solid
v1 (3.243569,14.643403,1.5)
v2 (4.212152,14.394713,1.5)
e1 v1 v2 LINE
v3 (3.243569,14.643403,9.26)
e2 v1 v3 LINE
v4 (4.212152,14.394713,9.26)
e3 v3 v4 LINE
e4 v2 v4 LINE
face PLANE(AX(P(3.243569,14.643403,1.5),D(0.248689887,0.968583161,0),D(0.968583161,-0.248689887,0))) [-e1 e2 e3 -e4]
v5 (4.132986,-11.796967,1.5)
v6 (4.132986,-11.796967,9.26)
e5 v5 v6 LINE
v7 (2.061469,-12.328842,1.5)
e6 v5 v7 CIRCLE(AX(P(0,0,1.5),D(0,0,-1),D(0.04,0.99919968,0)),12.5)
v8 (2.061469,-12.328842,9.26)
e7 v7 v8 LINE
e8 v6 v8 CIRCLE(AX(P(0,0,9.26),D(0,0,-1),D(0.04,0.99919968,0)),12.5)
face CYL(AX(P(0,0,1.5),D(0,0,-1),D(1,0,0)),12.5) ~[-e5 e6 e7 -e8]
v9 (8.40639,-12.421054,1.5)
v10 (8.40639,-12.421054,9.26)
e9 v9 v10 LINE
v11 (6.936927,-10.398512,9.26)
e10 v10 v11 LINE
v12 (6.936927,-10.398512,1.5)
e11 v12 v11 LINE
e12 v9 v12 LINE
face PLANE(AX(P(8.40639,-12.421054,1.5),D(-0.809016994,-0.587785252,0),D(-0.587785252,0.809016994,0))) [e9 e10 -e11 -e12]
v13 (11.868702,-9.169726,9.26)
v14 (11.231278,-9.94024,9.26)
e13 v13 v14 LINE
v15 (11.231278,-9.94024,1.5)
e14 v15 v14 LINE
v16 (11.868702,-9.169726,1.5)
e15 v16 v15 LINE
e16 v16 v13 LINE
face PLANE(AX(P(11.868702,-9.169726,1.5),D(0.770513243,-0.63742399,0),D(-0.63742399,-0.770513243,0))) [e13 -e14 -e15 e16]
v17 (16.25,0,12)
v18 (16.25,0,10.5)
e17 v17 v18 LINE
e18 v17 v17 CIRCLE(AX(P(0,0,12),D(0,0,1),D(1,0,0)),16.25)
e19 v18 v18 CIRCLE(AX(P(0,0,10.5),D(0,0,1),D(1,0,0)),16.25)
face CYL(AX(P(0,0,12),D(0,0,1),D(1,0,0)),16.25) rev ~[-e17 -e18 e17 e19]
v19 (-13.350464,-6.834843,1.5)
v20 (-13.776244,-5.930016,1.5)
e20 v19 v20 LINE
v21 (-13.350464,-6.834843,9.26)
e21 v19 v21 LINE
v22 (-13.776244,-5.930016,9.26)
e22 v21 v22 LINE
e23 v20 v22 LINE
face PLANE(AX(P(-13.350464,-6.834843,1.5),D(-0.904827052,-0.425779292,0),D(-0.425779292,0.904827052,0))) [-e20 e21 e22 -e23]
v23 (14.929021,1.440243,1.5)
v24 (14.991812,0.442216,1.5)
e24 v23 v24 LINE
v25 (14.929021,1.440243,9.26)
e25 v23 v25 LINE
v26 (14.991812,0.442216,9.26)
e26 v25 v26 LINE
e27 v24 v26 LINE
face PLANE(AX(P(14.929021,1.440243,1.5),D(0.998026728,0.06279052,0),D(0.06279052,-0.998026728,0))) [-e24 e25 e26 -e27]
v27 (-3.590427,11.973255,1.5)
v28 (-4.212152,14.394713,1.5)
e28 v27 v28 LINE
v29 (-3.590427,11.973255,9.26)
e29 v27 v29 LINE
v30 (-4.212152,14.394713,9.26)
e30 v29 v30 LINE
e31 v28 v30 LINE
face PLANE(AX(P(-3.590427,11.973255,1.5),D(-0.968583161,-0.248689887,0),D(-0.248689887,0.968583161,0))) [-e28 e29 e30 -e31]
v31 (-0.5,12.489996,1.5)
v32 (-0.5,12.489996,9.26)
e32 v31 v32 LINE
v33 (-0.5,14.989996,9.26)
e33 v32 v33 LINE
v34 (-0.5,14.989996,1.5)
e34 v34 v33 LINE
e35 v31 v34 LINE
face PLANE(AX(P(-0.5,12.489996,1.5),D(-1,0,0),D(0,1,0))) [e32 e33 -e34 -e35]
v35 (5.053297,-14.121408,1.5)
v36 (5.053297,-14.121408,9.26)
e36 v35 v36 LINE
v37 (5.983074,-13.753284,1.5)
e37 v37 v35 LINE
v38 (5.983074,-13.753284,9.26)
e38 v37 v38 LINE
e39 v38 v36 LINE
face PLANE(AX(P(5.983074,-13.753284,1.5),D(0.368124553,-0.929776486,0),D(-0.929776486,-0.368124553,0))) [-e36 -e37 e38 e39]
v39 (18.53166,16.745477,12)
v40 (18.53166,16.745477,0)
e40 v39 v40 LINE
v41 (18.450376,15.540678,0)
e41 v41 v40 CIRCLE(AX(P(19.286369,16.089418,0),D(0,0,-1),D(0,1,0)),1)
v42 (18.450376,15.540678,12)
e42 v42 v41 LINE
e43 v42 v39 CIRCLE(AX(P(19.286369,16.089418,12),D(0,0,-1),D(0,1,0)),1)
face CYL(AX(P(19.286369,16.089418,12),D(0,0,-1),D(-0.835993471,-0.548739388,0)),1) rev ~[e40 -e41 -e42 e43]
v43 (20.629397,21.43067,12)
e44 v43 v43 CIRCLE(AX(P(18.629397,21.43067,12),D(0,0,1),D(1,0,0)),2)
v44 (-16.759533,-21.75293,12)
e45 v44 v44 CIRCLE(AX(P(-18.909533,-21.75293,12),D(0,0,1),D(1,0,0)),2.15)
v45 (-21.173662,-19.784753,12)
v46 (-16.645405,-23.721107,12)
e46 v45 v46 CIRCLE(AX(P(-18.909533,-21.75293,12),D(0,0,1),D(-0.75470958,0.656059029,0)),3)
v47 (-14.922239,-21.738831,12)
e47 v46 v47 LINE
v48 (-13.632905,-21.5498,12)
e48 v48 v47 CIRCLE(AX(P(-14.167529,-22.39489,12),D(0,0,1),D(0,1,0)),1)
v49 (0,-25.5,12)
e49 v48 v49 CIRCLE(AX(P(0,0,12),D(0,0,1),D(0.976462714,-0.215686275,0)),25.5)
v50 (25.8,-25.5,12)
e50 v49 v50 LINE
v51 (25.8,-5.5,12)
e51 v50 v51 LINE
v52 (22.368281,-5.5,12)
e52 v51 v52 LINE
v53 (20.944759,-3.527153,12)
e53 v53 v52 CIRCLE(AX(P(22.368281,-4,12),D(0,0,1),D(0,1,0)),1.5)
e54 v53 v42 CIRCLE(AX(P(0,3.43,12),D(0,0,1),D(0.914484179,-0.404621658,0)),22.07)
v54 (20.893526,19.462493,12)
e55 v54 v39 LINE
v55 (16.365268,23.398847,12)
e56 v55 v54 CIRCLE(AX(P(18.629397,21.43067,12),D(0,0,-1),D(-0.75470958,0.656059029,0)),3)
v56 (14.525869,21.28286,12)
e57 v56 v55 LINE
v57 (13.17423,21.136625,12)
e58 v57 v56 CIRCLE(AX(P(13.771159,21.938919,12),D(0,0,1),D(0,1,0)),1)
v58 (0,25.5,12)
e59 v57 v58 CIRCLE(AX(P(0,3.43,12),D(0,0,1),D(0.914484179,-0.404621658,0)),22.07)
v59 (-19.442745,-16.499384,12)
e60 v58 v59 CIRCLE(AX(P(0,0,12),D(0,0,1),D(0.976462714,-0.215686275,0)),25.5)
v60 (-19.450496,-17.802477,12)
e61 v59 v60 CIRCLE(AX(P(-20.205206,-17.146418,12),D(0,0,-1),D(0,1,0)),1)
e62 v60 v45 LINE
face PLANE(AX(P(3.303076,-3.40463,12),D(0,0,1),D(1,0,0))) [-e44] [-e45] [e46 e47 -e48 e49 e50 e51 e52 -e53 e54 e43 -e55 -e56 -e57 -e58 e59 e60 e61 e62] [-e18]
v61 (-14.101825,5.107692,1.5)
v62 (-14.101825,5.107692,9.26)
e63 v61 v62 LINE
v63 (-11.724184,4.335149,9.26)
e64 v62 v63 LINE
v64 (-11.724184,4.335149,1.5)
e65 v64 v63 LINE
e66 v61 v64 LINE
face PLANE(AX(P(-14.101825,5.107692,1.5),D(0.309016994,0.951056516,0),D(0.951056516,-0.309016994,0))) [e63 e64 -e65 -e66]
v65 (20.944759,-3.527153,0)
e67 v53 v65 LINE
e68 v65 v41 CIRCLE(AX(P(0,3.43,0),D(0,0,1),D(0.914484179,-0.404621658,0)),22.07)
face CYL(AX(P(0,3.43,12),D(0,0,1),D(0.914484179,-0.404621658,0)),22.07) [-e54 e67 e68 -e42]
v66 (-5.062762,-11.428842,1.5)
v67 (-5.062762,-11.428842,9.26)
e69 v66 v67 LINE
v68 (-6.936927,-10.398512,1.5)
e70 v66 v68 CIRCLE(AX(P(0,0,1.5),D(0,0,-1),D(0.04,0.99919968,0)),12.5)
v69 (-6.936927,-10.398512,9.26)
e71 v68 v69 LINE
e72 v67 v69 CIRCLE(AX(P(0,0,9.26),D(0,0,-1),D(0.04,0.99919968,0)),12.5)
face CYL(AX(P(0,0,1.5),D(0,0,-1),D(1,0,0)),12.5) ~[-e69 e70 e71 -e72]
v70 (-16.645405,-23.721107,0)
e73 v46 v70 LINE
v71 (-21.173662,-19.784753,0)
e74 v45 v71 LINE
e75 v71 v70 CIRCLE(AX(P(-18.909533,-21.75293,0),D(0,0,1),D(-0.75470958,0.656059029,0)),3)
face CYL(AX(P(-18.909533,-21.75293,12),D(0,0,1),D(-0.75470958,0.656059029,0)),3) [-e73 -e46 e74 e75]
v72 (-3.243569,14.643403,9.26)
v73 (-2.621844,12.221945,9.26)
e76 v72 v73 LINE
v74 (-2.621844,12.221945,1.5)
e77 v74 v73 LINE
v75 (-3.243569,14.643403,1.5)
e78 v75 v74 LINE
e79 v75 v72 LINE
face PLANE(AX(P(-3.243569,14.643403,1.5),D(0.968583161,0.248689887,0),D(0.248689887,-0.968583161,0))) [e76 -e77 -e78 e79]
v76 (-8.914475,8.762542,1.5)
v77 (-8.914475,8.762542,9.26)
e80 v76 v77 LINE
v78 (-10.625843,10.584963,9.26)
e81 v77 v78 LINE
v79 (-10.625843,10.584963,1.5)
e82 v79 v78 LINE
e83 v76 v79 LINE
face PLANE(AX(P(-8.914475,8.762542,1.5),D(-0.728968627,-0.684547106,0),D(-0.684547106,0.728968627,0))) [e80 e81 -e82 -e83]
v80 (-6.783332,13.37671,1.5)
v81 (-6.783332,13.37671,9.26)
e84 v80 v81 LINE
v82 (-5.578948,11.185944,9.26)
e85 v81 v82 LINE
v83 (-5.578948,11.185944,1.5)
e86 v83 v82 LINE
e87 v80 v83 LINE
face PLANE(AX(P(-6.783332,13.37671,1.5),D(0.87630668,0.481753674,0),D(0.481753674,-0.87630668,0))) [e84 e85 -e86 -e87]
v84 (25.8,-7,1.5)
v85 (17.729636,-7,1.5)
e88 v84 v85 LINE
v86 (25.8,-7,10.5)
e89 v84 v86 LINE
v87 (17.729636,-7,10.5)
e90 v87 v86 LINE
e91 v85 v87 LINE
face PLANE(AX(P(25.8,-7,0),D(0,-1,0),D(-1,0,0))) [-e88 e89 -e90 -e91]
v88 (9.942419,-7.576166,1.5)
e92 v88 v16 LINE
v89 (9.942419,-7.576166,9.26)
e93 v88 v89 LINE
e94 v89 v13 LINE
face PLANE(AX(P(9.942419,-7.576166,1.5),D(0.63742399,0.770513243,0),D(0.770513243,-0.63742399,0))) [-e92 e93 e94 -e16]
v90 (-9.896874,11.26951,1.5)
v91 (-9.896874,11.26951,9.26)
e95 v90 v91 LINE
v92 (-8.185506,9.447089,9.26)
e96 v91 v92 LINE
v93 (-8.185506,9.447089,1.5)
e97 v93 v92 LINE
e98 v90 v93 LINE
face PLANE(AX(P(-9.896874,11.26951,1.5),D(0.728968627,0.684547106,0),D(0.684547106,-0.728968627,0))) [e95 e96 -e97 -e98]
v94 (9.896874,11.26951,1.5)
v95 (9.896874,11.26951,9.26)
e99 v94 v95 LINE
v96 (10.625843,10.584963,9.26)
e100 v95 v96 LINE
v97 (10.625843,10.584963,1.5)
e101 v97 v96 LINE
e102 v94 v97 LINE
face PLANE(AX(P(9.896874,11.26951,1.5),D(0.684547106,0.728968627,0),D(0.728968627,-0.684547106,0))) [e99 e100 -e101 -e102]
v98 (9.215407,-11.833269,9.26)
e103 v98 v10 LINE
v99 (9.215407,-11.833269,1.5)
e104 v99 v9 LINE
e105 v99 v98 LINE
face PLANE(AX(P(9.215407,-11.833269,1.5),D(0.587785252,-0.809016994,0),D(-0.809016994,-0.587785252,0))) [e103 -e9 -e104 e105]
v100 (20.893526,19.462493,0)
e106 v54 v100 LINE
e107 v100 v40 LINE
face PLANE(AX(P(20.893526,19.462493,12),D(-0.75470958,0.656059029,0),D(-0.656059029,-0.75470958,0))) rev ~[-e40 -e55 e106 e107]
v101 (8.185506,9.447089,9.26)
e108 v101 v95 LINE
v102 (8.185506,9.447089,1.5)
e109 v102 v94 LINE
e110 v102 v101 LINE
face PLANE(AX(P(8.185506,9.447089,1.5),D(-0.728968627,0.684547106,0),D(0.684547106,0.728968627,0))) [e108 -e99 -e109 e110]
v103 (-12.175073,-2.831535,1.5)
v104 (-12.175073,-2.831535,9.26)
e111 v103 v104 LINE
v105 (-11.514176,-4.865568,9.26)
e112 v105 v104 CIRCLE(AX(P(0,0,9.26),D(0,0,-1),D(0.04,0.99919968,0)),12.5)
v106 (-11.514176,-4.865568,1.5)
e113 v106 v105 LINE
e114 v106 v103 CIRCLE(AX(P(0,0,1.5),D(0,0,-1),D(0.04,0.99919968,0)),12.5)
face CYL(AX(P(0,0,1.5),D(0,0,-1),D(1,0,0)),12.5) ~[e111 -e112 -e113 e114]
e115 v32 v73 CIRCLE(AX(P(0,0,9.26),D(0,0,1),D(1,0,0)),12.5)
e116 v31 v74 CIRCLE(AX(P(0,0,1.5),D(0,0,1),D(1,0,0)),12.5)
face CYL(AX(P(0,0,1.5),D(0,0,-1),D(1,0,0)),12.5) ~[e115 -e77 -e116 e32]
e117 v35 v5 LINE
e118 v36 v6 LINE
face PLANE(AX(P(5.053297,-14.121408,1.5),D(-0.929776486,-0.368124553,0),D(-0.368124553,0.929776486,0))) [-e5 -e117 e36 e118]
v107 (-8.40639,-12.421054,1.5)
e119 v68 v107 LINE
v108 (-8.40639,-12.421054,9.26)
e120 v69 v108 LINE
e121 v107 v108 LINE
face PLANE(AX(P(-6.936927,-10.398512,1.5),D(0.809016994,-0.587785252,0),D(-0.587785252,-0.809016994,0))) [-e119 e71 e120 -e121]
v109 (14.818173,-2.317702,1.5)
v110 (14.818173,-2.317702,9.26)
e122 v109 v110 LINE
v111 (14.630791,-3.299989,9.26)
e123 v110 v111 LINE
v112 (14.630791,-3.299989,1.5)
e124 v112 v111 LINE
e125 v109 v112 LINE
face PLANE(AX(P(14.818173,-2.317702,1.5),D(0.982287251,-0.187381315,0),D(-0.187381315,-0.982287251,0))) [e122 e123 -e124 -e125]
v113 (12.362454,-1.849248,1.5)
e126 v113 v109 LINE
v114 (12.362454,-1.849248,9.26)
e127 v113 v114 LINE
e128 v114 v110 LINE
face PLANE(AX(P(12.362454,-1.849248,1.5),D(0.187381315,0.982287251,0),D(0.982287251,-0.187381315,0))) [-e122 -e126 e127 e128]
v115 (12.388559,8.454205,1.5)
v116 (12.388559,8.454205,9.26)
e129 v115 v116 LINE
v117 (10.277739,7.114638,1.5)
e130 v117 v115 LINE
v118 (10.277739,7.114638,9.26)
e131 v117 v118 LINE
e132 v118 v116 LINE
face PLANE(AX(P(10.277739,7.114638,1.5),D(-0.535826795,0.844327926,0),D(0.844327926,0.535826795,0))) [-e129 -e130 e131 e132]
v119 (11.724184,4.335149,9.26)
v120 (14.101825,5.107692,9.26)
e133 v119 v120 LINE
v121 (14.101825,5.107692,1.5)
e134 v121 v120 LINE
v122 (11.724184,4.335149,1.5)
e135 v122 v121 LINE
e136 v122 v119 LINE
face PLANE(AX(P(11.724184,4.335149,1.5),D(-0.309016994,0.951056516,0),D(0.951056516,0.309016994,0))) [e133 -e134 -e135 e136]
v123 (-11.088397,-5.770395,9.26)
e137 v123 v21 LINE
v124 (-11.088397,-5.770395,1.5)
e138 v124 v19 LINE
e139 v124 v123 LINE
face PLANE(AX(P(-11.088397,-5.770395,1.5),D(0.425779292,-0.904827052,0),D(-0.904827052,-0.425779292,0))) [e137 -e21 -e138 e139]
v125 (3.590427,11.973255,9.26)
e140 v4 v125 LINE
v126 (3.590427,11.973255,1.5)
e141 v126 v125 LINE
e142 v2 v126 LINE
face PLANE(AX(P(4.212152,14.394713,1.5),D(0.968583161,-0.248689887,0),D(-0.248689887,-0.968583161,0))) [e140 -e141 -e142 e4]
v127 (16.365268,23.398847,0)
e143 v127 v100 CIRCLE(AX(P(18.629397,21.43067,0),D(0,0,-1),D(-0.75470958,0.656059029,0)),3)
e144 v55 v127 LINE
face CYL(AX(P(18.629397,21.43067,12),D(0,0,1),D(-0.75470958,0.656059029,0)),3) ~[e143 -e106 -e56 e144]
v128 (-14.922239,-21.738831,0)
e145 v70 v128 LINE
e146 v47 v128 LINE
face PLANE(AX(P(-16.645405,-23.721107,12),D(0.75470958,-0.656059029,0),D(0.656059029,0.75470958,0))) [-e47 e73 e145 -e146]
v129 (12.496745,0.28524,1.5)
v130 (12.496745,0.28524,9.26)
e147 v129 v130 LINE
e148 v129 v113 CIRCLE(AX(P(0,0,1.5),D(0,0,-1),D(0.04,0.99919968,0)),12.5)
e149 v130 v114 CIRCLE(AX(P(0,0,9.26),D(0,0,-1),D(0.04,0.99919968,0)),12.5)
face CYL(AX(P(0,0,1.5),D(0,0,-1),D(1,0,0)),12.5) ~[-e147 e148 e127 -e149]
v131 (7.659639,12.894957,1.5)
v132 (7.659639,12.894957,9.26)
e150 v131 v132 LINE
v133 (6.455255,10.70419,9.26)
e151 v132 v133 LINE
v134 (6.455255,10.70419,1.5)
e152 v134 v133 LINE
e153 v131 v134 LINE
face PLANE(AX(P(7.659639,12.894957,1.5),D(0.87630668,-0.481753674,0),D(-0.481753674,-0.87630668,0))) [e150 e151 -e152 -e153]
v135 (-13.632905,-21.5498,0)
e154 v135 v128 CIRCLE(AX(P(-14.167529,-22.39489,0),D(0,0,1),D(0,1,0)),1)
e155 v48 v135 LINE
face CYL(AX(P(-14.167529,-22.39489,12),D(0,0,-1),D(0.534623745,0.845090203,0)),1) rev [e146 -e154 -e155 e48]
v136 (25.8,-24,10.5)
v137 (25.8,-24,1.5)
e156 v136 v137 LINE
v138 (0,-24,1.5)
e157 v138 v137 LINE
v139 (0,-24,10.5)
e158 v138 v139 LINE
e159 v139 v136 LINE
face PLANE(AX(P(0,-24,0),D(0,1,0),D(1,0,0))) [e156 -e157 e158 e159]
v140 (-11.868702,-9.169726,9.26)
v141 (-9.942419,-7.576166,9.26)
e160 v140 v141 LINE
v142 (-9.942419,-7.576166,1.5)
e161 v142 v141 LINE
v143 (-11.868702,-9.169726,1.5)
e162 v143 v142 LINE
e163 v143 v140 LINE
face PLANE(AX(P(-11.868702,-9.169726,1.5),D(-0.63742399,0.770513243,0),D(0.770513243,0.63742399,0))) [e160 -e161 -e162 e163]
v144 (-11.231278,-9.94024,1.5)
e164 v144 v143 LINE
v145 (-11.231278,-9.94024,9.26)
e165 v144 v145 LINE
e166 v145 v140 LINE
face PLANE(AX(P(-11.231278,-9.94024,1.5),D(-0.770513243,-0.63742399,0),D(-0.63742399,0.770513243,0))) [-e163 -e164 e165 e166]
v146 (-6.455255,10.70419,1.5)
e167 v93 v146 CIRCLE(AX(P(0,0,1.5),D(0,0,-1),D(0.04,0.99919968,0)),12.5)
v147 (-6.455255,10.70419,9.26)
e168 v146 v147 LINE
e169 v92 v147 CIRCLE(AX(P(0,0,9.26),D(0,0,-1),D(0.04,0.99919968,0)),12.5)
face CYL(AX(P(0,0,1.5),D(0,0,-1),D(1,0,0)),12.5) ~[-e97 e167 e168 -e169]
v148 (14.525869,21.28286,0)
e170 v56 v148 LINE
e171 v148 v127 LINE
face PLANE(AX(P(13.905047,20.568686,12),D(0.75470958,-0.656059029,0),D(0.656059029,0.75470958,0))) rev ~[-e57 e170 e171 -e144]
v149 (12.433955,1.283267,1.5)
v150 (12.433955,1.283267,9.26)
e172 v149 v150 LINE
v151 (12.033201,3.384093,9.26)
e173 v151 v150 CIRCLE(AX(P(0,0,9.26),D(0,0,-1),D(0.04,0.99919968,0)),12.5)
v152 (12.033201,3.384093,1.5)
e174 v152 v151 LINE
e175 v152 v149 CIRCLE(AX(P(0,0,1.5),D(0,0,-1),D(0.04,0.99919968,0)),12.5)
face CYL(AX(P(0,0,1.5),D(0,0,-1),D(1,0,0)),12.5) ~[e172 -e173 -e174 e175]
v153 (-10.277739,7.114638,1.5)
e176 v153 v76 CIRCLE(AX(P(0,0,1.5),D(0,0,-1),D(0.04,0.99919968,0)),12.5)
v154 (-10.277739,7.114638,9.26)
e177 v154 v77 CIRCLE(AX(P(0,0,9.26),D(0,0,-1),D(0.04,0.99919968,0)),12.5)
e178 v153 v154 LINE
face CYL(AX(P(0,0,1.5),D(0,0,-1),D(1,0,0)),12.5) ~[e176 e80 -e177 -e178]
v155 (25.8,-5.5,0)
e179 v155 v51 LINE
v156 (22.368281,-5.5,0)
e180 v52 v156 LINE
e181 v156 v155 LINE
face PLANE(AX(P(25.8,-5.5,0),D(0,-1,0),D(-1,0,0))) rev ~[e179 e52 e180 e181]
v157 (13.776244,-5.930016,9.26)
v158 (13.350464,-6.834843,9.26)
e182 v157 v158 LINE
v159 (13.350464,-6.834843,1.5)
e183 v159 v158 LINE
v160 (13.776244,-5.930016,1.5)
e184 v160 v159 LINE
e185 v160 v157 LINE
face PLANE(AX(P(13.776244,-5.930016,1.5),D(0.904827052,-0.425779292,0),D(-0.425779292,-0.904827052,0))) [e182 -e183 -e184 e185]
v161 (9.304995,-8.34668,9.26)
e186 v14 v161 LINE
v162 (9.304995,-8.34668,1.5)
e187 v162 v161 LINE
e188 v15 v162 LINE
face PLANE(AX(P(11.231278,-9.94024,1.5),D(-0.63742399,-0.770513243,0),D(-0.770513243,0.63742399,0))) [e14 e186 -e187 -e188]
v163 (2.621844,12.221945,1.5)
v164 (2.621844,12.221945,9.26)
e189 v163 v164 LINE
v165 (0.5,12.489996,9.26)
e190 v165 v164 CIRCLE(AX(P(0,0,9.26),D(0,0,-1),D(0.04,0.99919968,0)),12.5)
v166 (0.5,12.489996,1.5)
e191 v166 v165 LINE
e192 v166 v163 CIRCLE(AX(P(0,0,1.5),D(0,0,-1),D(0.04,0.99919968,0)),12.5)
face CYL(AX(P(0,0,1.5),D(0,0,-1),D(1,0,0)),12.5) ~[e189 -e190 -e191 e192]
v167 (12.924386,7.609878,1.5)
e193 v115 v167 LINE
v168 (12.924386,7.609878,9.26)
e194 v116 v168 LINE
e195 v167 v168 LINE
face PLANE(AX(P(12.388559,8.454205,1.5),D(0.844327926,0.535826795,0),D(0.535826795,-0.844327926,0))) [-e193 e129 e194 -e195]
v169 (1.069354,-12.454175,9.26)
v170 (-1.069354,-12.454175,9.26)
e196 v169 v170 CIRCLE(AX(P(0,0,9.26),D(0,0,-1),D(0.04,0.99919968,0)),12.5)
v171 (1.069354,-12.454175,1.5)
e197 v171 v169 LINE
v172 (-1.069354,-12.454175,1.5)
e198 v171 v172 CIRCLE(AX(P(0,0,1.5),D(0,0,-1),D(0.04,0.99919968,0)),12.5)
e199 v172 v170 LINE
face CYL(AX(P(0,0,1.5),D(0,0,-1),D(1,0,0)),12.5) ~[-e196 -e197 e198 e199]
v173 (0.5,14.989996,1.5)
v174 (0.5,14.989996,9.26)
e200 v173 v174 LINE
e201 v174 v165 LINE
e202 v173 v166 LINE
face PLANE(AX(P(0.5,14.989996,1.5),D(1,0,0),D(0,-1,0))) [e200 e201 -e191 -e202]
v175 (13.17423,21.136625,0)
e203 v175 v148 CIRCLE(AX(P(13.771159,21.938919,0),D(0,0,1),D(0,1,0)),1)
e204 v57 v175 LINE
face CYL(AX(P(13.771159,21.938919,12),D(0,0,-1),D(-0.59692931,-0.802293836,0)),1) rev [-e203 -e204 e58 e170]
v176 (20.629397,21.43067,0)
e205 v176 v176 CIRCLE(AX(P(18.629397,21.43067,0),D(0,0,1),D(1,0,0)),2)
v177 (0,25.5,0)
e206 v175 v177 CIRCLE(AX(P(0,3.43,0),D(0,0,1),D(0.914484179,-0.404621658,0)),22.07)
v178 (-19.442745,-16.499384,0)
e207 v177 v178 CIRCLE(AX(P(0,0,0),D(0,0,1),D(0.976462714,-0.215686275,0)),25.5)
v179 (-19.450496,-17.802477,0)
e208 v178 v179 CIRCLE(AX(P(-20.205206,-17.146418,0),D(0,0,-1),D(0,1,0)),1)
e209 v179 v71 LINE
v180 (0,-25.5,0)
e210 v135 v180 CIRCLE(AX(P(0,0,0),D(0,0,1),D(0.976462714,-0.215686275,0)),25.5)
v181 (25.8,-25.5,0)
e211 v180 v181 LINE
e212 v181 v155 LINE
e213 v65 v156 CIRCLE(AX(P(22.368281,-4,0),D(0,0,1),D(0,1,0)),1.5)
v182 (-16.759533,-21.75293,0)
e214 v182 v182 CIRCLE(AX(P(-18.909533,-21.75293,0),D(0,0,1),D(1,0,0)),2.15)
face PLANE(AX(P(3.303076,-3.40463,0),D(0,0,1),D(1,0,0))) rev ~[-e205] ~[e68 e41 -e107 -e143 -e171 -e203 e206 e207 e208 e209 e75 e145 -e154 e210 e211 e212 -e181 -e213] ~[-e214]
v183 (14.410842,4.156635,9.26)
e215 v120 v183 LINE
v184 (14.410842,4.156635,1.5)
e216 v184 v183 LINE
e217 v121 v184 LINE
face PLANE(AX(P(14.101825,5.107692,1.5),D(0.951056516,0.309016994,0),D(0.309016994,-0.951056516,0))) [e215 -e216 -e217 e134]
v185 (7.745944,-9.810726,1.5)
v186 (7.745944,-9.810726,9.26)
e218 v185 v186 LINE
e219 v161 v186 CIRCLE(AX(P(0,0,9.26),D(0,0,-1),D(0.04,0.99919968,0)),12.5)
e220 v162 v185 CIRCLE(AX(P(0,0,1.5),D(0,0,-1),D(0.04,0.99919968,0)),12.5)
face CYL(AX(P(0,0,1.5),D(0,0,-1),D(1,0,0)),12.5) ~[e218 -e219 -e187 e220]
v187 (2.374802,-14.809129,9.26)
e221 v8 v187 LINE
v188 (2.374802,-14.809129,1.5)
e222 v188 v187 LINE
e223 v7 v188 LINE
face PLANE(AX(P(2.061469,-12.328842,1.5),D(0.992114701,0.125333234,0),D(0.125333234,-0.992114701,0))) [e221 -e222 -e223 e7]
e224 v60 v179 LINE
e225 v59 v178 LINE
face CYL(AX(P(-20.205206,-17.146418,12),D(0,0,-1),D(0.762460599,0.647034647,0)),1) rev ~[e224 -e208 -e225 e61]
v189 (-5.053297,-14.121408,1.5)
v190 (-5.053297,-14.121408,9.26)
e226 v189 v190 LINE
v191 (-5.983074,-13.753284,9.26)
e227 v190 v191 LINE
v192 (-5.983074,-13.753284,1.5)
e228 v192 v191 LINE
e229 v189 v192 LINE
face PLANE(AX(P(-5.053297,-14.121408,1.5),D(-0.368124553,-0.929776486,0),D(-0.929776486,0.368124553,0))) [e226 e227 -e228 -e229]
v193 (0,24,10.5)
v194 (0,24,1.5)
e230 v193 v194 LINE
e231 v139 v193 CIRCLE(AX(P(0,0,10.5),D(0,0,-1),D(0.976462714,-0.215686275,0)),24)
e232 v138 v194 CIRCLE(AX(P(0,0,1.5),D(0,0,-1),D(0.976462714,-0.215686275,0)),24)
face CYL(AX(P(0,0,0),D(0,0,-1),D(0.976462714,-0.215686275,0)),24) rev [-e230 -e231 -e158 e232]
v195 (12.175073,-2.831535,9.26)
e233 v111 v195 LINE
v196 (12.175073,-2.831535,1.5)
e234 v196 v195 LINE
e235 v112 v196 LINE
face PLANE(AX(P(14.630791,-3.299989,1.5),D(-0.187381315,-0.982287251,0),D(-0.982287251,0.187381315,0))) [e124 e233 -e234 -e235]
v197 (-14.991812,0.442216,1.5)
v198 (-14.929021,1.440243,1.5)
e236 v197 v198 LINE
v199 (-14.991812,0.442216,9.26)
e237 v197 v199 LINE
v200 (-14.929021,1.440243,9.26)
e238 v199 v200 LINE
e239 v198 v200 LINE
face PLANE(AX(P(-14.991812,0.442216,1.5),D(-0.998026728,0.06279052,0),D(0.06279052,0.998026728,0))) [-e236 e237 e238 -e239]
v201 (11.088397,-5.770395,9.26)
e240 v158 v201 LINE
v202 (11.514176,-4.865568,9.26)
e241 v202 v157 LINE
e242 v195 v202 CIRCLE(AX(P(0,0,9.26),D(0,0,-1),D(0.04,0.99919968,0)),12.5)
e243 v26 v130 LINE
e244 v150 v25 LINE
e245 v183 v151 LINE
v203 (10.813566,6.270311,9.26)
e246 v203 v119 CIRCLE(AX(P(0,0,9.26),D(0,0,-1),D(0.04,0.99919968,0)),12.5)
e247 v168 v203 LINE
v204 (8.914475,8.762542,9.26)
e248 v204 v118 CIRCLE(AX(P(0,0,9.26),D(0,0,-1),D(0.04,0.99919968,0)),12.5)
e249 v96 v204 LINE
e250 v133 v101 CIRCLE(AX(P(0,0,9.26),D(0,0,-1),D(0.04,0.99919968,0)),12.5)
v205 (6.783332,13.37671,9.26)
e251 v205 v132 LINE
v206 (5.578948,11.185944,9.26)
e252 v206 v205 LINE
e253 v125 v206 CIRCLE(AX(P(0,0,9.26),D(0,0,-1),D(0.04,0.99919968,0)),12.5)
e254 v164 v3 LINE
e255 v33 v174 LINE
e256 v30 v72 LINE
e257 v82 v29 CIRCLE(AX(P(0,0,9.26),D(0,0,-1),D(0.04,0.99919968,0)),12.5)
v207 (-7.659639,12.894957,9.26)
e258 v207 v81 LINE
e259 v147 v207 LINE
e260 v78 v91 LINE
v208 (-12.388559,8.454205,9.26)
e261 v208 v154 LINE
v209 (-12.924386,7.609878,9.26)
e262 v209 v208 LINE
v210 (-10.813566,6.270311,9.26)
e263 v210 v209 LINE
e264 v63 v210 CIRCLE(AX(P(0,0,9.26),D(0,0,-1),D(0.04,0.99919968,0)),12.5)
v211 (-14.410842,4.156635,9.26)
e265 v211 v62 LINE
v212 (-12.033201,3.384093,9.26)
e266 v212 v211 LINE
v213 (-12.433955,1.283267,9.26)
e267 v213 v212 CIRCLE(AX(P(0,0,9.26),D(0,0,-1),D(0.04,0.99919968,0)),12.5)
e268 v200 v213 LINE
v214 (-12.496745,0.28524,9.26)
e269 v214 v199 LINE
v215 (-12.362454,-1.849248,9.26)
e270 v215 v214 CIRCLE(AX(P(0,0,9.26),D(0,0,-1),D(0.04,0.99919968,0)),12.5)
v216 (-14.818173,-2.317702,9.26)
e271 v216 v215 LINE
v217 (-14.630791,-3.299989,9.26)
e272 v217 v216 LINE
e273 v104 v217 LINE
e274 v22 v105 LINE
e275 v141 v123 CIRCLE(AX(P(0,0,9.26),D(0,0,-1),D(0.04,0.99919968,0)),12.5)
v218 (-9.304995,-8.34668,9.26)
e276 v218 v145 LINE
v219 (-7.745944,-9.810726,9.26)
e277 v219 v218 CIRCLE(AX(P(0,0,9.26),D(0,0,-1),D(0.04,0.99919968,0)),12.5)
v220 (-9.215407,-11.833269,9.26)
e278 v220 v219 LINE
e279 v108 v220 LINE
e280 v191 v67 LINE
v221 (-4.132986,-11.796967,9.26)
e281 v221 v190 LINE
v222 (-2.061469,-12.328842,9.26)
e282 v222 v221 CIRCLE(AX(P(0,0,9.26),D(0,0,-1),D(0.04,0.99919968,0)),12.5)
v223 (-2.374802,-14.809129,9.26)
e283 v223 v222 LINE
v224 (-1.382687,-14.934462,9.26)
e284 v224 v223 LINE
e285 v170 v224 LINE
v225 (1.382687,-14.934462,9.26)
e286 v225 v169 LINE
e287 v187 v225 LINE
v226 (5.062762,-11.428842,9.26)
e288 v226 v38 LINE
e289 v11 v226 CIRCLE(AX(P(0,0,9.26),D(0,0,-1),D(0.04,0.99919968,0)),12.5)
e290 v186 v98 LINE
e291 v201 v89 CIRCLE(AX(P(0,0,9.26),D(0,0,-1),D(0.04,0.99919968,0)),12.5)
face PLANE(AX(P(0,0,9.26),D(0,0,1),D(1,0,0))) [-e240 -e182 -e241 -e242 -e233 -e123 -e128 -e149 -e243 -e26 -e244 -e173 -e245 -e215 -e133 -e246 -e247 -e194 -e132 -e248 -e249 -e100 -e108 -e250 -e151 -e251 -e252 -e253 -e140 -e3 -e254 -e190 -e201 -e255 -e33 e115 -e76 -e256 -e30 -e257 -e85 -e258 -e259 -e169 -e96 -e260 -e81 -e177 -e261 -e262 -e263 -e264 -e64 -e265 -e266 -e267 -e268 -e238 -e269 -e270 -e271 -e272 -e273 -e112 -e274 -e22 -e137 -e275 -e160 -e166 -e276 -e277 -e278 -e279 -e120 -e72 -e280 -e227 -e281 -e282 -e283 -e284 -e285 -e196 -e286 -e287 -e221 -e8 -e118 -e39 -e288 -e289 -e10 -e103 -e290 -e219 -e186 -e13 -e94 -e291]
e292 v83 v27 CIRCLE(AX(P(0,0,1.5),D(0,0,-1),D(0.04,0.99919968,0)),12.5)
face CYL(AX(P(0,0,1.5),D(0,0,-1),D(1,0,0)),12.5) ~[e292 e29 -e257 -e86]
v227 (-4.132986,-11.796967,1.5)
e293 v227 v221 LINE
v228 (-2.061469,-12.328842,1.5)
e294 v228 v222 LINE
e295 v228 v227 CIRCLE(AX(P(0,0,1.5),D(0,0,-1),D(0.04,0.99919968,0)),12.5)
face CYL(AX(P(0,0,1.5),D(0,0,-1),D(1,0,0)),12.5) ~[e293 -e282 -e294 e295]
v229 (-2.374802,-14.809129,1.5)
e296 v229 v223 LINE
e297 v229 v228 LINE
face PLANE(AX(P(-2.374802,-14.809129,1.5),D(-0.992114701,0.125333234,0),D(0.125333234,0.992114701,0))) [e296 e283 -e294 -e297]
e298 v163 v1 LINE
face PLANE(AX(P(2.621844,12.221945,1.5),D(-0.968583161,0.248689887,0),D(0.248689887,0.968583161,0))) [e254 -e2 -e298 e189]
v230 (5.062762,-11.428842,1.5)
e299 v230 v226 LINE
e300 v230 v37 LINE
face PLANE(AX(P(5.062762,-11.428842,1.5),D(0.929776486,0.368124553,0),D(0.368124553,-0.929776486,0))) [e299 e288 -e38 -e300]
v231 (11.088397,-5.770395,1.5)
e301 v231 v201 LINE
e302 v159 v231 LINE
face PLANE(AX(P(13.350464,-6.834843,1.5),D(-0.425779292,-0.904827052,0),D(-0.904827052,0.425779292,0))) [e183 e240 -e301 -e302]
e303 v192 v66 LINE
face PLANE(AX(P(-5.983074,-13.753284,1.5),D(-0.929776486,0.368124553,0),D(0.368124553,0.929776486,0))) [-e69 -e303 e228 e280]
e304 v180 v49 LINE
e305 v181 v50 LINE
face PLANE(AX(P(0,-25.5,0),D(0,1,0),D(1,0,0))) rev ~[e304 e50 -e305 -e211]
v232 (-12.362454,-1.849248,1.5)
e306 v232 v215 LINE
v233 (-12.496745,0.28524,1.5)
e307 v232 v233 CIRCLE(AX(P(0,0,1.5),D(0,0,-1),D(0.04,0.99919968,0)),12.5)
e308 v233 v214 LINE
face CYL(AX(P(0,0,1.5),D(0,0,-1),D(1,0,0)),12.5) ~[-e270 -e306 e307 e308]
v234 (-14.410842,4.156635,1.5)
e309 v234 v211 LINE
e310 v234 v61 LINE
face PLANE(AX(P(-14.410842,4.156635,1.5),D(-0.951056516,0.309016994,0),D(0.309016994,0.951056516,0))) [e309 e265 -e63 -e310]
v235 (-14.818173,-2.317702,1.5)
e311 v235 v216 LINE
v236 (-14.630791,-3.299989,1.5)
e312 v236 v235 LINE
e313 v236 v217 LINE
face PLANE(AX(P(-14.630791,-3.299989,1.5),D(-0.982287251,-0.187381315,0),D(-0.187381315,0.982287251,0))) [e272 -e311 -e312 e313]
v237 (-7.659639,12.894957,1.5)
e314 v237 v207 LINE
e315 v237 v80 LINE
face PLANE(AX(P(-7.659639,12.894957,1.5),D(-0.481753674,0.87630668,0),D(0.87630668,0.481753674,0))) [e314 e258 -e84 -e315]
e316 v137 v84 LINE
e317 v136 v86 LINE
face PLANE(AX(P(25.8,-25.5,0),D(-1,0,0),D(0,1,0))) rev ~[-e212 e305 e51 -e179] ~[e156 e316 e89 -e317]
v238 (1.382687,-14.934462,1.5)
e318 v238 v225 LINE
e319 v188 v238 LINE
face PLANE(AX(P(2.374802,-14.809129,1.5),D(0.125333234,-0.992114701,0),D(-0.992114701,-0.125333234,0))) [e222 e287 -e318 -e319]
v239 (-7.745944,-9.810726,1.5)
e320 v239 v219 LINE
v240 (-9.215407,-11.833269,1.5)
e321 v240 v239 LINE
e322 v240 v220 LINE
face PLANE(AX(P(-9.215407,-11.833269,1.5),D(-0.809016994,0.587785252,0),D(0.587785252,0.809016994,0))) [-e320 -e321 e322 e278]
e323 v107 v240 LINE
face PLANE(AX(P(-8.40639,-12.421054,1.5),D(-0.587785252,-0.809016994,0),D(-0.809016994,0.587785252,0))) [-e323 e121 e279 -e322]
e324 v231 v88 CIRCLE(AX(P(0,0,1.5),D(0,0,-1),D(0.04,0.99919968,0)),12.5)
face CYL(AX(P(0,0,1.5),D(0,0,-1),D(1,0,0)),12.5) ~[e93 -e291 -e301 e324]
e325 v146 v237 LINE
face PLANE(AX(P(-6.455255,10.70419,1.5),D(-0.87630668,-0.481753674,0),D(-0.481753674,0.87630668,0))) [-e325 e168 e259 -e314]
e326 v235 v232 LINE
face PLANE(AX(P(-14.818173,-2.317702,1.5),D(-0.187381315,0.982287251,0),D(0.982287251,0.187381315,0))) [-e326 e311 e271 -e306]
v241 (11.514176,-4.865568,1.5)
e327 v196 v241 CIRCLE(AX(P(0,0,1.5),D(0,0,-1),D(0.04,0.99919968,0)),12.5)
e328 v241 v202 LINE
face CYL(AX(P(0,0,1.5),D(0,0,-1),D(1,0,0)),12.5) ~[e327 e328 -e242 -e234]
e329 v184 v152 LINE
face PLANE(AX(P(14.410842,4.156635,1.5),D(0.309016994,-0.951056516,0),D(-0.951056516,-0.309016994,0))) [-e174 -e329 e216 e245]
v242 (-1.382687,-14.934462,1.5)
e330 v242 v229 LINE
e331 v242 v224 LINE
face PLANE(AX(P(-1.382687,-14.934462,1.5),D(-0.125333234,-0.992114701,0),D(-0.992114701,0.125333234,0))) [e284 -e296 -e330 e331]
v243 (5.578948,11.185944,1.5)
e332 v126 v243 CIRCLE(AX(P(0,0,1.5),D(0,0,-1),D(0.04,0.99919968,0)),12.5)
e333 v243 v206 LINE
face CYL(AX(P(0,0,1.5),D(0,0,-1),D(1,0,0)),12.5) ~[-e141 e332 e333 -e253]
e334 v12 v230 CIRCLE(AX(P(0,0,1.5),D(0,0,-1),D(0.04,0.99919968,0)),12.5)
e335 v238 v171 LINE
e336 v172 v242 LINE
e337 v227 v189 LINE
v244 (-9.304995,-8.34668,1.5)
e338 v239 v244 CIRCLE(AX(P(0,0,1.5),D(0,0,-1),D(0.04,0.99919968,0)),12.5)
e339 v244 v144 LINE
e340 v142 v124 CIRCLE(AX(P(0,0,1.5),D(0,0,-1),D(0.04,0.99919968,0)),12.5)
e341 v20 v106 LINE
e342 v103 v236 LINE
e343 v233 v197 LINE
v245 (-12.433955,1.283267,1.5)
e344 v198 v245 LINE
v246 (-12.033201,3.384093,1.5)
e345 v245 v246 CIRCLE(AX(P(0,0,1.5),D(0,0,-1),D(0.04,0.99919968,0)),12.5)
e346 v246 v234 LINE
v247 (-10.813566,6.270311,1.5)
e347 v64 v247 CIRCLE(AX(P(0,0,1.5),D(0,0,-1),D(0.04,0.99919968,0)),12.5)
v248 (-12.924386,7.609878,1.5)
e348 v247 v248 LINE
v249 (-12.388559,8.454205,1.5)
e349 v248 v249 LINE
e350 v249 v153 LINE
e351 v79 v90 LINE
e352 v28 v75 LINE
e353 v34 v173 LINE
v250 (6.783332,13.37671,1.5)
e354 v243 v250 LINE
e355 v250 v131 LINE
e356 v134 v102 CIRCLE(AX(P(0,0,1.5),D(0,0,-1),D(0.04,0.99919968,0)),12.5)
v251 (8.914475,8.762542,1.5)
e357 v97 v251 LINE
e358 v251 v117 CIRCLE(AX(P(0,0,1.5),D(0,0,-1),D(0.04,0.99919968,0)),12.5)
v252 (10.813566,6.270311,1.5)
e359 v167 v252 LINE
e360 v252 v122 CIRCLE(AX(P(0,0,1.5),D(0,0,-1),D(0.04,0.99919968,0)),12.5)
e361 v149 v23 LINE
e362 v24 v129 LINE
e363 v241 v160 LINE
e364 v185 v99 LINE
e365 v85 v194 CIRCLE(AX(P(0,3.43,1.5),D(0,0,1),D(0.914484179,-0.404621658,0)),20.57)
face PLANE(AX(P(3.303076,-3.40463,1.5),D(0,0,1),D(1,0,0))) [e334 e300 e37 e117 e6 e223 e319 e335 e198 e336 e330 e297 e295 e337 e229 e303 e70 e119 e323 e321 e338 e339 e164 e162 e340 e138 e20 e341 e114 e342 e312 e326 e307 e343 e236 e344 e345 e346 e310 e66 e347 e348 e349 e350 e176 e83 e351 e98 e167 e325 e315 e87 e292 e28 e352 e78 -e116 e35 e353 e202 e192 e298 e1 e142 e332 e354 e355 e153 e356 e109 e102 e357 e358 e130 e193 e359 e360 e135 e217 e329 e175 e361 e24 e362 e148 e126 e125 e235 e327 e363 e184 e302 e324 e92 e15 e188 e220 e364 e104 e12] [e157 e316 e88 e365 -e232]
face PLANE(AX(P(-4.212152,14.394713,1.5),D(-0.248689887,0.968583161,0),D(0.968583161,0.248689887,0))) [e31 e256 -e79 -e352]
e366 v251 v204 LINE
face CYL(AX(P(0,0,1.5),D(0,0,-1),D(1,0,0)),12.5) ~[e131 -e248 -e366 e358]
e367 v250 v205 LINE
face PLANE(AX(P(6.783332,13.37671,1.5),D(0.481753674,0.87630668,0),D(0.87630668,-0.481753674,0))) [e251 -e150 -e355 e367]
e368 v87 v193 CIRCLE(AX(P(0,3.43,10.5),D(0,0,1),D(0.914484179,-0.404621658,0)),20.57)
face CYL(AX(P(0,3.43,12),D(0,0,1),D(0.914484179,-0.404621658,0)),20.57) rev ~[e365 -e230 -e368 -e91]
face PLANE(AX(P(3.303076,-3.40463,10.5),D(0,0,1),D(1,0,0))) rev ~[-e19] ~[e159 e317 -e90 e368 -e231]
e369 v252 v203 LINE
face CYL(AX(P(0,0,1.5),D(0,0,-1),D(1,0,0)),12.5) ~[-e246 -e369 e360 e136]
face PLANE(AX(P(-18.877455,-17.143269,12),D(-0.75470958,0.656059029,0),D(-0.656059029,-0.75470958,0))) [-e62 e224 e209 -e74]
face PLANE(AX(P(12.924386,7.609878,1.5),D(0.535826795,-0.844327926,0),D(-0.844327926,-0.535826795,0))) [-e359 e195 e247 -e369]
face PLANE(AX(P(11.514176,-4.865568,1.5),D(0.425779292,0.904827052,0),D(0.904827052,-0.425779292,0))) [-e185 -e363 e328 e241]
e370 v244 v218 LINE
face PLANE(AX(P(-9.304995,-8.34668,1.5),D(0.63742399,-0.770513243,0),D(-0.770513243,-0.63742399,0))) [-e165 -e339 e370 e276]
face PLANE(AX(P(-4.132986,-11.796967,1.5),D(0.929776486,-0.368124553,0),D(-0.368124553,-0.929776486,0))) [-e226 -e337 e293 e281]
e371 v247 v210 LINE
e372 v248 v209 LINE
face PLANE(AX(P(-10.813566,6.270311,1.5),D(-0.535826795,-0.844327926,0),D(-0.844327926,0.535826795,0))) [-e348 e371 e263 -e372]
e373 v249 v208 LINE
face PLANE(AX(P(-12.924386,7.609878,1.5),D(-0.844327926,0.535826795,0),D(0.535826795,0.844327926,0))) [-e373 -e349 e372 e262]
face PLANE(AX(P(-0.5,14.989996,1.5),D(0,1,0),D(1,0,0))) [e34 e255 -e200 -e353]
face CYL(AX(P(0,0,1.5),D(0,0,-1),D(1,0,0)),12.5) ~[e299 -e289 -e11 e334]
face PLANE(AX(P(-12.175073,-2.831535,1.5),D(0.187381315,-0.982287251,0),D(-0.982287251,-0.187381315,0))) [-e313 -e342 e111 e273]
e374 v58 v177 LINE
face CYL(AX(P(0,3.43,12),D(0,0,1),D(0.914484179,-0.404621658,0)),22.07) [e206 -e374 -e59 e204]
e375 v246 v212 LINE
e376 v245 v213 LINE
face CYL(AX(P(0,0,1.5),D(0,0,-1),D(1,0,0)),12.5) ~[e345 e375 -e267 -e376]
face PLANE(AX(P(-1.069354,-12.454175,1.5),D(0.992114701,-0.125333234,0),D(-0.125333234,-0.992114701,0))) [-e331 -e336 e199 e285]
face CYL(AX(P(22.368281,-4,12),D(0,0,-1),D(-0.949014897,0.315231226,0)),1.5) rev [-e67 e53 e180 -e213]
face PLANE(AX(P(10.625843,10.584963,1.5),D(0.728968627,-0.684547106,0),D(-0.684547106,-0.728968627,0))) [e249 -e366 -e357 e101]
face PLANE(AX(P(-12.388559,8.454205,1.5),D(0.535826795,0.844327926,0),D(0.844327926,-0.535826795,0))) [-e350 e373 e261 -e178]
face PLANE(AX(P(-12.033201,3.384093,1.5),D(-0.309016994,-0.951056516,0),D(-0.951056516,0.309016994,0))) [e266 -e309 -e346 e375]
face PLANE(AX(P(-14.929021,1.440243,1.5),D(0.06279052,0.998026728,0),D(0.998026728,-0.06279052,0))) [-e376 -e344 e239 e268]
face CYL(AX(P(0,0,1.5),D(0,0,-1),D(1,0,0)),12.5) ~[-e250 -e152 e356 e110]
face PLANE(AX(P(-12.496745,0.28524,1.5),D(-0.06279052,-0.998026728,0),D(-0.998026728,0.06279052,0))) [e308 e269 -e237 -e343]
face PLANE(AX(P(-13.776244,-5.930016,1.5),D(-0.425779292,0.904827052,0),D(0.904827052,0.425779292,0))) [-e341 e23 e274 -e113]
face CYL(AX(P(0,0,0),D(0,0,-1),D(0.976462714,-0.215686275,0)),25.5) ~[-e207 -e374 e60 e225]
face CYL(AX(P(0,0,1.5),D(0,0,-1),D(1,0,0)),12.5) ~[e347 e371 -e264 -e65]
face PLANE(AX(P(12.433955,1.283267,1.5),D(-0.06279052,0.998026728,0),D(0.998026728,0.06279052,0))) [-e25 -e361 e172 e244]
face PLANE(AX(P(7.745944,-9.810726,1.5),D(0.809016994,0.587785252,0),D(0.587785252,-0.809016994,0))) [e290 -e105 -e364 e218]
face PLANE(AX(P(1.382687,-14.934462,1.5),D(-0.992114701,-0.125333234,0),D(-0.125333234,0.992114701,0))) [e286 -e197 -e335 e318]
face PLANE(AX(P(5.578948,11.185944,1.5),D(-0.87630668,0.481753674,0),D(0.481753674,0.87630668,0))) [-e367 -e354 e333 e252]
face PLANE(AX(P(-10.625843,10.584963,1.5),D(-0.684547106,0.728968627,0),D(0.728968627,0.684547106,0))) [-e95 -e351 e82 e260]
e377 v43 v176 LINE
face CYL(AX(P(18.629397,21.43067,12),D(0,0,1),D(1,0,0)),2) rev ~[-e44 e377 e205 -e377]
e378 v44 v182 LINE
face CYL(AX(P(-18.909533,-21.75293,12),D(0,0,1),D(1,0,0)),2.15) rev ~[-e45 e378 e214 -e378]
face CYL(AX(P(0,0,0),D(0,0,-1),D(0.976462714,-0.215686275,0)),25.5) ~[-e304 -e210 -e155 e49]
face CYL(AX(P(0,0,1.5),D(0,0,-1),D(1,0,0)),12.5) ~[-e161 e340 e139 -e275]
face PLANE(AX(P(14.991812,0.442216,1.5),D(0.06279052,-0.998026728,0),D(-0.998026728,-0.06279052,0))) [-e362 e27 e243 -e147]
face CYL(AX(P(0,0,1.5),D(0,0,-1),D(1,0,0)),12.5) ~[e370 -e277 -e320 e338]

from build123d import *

# Parameters (mm, degrees)
BOSS_EXTRUDE1_DEPTH = 12
CUT_EXTRUDE2_DEPTH  = 28.5
SHELL1_T            = -1.5
SKETCH2_R           = 16.25
CUT_EXTRUDE1_DEPTH  = 3.76
SKETCH3_R           = 12.5
BOSS_EXTRUDE2_DEPTH = 7.76
BOSS_EXTRUDE3_DEPTH = 7.76
CIRPATTERN1_COUNT   = 25
FILLET1_R           = 1.5
SKETCH6_R           = 2.15
BOSS_EXTRUDE4_DEPTH = 12
FILLET2_R           = 1
SKETCH7_R           = 2
BOSS_EXTRUDE5_DEPTH = 12
FILLET3_R           = 1


with BuildPart() as part:
    # Sketch1 → Boss-Extrude1 (new body)
    with BuildSketch(Plane.XY):
        with BuildLine():
            Line((0, -25.5), (25.8, -25.5))
            Line((25.8, -25.5), (25.8, -5.5))
            Line((25.8, -5.5), (24.899799196, -5.5))
            ThreePointArc((24.899799196, -5.5), (-15.968719423, 19.880895352), (0, -25.5))
        make_face()
    extrude(amount=BOSS_EXTRUDE1_DEPTH)

    # Sketch5 → Cut-Extrude2 (cut)
    with BuildSketch(Plane.XY.offset(12)):
        with BuildLine():
            Line((24.899799196, -5.5), (20.18266583, -5.5))
            ThreePointArc((20.18266583, -5.5), (18.495540003, 15.471590427), (0, 25.5))
            ThreePointArc((0, 25.5), (19.880895352, 15.968719423), (24.899799196, -5.5))
        make_face()
    extrude(amount=-CUT_EXTRUDE2_DEPTH, mode=Mode.SUBTRACT)

    # Shell1
    shell1_openings = [part.faces().sort_by_distance(p)[0] for p in [
        (25.8, -15.5, 6),
    ]]
    offset(amount=SHELL1_T, openings=shell1_openings, kind=Kind.INTERSECTION)

    # Sketch2 → Cut-Extrude1 (cut)
    with BuildSketch(Plane.XY.offset(12)):
        Circle(SKETCH2_R)
    extrude(amount=-CUT_EXTRUDE1_DEPTH, mode=Mode.SUBTRACT)

    # Sketch3 → Boss-Extrude2 (add)
    with BuildSketch(Plane.XY.offset(1.5)):
        Circle(SKETCH3_R)
    extrude(amount=BOSS_EXTRUDE2_DEPTH)

    # Sketch4 → Boss-Extrude3 (add)
    with BuildSketch(Plane.XY.offset(1.5)):
        with BuildLine():
            Line((-0.5, 12.489995997), (-0.5, 14.989995997))
            Line((-0.5, 14.989995997), (0.5, 14.989995997))
            Line((0.5, 14.989995997), (0.5, 12.489995997))
            ThreePointArc((0.5, 12.489995997), (0, 12.5), (-0.5, 12.489995997))
        make_face()
    boss_extrude3 = extrude(amount=BOSS_EXTRUDE3_DEPTH)

    # CirPattern1: Boss-Extrude3 ×25 about axis
    cirpattern1_axis = Axis((0, 0, 0), (0, 0, 1))
    for i in range(1, CIRPATTERN1_COUNT):
        add(boss_extrude3.rotate(cirpattern1_axis, i * 360 / CIRPATTERN1_COUNT))

    # Fillet1
    fillet1_edges = [part.edges().sort_by_distance(p)[0] for p in [
        (20.18266583, -5.5, 6),
    ]]
    fillet(fillet1_edges, radius=FILLET1_R)

    # Sketch6 → Boss-Extrude4 (add)
    with BuildSketch(Plane.XY.offset(12)):
        with BuildLine():
            Line((-18.877455455, -17.143269104), (-21.173662056, -19.784752634))
            ThreePointArc((-21.173662056, -19.784752634), (-20.877710402, -24.017058462), (-16.645404575, -23.721106808))
            Line((-16.645404575, -23.721106808), (-14.349197973, -21.079623278))
            ThreePointArc((-14.349197973, -21.079623278), (-16.729505239, -19.245094296), (-18.877455455, -17.143269104))
        make_face()
        with Locations((-18.909533315, -21.752929721)):
            Circle(SKETCH6_R, mode=Mode.SUBTRACT)
    extrude(amount=-BOSS_EXTRUDE4_DEPTH)

    # Fillet2
    fillet2_edges = [part.edges().sort_by_distance(p)[0] for p in [
        (-14.349197973, -21.079623278, 6),
        (-18.877455455, -17.143269104, 6),
    ]]
    fillet(fillet2_edges, radius=FILLET2_R)

    # Sketch7 → Boss-Extrude5 (add)
    with BuildSketch(Plane.XY.offset(12)):
        with BuildLine():
            Line((13.905047135, 20.568686185), (16.365268494, 23.398847111))
            ThreePointArc((16.365268494, 23.398847111), (20.597574322, 23.694798765), (20.893525975, 19.462492937))
            Line((20.893525975, 19.462492937), (18.02598514, 16.163764554))
            ThreePointArc((18.02598514, 16.163764554), (16.116716142, 18.507677567), (13.905047135, 20.568686185))
        make_face()
        with Locations((18.629397235, 21.430670024)):
            Circle(SKETCH7_R, mode=Mode.SUBTRACT)
    extrude(amount=-BOSS_EXTRUDE5_DEPTH)

    # Fillet3
    fillet3_edges = [part.edges().sort_by_distance(p)[0] for p in [
        (13.905047135, 20.568686185, 6),
        (18.02598514, 16.163764554, 6),
    ]]
    fillet(fillet3_edges, radius=FILLET3_R)


solid = part.part
